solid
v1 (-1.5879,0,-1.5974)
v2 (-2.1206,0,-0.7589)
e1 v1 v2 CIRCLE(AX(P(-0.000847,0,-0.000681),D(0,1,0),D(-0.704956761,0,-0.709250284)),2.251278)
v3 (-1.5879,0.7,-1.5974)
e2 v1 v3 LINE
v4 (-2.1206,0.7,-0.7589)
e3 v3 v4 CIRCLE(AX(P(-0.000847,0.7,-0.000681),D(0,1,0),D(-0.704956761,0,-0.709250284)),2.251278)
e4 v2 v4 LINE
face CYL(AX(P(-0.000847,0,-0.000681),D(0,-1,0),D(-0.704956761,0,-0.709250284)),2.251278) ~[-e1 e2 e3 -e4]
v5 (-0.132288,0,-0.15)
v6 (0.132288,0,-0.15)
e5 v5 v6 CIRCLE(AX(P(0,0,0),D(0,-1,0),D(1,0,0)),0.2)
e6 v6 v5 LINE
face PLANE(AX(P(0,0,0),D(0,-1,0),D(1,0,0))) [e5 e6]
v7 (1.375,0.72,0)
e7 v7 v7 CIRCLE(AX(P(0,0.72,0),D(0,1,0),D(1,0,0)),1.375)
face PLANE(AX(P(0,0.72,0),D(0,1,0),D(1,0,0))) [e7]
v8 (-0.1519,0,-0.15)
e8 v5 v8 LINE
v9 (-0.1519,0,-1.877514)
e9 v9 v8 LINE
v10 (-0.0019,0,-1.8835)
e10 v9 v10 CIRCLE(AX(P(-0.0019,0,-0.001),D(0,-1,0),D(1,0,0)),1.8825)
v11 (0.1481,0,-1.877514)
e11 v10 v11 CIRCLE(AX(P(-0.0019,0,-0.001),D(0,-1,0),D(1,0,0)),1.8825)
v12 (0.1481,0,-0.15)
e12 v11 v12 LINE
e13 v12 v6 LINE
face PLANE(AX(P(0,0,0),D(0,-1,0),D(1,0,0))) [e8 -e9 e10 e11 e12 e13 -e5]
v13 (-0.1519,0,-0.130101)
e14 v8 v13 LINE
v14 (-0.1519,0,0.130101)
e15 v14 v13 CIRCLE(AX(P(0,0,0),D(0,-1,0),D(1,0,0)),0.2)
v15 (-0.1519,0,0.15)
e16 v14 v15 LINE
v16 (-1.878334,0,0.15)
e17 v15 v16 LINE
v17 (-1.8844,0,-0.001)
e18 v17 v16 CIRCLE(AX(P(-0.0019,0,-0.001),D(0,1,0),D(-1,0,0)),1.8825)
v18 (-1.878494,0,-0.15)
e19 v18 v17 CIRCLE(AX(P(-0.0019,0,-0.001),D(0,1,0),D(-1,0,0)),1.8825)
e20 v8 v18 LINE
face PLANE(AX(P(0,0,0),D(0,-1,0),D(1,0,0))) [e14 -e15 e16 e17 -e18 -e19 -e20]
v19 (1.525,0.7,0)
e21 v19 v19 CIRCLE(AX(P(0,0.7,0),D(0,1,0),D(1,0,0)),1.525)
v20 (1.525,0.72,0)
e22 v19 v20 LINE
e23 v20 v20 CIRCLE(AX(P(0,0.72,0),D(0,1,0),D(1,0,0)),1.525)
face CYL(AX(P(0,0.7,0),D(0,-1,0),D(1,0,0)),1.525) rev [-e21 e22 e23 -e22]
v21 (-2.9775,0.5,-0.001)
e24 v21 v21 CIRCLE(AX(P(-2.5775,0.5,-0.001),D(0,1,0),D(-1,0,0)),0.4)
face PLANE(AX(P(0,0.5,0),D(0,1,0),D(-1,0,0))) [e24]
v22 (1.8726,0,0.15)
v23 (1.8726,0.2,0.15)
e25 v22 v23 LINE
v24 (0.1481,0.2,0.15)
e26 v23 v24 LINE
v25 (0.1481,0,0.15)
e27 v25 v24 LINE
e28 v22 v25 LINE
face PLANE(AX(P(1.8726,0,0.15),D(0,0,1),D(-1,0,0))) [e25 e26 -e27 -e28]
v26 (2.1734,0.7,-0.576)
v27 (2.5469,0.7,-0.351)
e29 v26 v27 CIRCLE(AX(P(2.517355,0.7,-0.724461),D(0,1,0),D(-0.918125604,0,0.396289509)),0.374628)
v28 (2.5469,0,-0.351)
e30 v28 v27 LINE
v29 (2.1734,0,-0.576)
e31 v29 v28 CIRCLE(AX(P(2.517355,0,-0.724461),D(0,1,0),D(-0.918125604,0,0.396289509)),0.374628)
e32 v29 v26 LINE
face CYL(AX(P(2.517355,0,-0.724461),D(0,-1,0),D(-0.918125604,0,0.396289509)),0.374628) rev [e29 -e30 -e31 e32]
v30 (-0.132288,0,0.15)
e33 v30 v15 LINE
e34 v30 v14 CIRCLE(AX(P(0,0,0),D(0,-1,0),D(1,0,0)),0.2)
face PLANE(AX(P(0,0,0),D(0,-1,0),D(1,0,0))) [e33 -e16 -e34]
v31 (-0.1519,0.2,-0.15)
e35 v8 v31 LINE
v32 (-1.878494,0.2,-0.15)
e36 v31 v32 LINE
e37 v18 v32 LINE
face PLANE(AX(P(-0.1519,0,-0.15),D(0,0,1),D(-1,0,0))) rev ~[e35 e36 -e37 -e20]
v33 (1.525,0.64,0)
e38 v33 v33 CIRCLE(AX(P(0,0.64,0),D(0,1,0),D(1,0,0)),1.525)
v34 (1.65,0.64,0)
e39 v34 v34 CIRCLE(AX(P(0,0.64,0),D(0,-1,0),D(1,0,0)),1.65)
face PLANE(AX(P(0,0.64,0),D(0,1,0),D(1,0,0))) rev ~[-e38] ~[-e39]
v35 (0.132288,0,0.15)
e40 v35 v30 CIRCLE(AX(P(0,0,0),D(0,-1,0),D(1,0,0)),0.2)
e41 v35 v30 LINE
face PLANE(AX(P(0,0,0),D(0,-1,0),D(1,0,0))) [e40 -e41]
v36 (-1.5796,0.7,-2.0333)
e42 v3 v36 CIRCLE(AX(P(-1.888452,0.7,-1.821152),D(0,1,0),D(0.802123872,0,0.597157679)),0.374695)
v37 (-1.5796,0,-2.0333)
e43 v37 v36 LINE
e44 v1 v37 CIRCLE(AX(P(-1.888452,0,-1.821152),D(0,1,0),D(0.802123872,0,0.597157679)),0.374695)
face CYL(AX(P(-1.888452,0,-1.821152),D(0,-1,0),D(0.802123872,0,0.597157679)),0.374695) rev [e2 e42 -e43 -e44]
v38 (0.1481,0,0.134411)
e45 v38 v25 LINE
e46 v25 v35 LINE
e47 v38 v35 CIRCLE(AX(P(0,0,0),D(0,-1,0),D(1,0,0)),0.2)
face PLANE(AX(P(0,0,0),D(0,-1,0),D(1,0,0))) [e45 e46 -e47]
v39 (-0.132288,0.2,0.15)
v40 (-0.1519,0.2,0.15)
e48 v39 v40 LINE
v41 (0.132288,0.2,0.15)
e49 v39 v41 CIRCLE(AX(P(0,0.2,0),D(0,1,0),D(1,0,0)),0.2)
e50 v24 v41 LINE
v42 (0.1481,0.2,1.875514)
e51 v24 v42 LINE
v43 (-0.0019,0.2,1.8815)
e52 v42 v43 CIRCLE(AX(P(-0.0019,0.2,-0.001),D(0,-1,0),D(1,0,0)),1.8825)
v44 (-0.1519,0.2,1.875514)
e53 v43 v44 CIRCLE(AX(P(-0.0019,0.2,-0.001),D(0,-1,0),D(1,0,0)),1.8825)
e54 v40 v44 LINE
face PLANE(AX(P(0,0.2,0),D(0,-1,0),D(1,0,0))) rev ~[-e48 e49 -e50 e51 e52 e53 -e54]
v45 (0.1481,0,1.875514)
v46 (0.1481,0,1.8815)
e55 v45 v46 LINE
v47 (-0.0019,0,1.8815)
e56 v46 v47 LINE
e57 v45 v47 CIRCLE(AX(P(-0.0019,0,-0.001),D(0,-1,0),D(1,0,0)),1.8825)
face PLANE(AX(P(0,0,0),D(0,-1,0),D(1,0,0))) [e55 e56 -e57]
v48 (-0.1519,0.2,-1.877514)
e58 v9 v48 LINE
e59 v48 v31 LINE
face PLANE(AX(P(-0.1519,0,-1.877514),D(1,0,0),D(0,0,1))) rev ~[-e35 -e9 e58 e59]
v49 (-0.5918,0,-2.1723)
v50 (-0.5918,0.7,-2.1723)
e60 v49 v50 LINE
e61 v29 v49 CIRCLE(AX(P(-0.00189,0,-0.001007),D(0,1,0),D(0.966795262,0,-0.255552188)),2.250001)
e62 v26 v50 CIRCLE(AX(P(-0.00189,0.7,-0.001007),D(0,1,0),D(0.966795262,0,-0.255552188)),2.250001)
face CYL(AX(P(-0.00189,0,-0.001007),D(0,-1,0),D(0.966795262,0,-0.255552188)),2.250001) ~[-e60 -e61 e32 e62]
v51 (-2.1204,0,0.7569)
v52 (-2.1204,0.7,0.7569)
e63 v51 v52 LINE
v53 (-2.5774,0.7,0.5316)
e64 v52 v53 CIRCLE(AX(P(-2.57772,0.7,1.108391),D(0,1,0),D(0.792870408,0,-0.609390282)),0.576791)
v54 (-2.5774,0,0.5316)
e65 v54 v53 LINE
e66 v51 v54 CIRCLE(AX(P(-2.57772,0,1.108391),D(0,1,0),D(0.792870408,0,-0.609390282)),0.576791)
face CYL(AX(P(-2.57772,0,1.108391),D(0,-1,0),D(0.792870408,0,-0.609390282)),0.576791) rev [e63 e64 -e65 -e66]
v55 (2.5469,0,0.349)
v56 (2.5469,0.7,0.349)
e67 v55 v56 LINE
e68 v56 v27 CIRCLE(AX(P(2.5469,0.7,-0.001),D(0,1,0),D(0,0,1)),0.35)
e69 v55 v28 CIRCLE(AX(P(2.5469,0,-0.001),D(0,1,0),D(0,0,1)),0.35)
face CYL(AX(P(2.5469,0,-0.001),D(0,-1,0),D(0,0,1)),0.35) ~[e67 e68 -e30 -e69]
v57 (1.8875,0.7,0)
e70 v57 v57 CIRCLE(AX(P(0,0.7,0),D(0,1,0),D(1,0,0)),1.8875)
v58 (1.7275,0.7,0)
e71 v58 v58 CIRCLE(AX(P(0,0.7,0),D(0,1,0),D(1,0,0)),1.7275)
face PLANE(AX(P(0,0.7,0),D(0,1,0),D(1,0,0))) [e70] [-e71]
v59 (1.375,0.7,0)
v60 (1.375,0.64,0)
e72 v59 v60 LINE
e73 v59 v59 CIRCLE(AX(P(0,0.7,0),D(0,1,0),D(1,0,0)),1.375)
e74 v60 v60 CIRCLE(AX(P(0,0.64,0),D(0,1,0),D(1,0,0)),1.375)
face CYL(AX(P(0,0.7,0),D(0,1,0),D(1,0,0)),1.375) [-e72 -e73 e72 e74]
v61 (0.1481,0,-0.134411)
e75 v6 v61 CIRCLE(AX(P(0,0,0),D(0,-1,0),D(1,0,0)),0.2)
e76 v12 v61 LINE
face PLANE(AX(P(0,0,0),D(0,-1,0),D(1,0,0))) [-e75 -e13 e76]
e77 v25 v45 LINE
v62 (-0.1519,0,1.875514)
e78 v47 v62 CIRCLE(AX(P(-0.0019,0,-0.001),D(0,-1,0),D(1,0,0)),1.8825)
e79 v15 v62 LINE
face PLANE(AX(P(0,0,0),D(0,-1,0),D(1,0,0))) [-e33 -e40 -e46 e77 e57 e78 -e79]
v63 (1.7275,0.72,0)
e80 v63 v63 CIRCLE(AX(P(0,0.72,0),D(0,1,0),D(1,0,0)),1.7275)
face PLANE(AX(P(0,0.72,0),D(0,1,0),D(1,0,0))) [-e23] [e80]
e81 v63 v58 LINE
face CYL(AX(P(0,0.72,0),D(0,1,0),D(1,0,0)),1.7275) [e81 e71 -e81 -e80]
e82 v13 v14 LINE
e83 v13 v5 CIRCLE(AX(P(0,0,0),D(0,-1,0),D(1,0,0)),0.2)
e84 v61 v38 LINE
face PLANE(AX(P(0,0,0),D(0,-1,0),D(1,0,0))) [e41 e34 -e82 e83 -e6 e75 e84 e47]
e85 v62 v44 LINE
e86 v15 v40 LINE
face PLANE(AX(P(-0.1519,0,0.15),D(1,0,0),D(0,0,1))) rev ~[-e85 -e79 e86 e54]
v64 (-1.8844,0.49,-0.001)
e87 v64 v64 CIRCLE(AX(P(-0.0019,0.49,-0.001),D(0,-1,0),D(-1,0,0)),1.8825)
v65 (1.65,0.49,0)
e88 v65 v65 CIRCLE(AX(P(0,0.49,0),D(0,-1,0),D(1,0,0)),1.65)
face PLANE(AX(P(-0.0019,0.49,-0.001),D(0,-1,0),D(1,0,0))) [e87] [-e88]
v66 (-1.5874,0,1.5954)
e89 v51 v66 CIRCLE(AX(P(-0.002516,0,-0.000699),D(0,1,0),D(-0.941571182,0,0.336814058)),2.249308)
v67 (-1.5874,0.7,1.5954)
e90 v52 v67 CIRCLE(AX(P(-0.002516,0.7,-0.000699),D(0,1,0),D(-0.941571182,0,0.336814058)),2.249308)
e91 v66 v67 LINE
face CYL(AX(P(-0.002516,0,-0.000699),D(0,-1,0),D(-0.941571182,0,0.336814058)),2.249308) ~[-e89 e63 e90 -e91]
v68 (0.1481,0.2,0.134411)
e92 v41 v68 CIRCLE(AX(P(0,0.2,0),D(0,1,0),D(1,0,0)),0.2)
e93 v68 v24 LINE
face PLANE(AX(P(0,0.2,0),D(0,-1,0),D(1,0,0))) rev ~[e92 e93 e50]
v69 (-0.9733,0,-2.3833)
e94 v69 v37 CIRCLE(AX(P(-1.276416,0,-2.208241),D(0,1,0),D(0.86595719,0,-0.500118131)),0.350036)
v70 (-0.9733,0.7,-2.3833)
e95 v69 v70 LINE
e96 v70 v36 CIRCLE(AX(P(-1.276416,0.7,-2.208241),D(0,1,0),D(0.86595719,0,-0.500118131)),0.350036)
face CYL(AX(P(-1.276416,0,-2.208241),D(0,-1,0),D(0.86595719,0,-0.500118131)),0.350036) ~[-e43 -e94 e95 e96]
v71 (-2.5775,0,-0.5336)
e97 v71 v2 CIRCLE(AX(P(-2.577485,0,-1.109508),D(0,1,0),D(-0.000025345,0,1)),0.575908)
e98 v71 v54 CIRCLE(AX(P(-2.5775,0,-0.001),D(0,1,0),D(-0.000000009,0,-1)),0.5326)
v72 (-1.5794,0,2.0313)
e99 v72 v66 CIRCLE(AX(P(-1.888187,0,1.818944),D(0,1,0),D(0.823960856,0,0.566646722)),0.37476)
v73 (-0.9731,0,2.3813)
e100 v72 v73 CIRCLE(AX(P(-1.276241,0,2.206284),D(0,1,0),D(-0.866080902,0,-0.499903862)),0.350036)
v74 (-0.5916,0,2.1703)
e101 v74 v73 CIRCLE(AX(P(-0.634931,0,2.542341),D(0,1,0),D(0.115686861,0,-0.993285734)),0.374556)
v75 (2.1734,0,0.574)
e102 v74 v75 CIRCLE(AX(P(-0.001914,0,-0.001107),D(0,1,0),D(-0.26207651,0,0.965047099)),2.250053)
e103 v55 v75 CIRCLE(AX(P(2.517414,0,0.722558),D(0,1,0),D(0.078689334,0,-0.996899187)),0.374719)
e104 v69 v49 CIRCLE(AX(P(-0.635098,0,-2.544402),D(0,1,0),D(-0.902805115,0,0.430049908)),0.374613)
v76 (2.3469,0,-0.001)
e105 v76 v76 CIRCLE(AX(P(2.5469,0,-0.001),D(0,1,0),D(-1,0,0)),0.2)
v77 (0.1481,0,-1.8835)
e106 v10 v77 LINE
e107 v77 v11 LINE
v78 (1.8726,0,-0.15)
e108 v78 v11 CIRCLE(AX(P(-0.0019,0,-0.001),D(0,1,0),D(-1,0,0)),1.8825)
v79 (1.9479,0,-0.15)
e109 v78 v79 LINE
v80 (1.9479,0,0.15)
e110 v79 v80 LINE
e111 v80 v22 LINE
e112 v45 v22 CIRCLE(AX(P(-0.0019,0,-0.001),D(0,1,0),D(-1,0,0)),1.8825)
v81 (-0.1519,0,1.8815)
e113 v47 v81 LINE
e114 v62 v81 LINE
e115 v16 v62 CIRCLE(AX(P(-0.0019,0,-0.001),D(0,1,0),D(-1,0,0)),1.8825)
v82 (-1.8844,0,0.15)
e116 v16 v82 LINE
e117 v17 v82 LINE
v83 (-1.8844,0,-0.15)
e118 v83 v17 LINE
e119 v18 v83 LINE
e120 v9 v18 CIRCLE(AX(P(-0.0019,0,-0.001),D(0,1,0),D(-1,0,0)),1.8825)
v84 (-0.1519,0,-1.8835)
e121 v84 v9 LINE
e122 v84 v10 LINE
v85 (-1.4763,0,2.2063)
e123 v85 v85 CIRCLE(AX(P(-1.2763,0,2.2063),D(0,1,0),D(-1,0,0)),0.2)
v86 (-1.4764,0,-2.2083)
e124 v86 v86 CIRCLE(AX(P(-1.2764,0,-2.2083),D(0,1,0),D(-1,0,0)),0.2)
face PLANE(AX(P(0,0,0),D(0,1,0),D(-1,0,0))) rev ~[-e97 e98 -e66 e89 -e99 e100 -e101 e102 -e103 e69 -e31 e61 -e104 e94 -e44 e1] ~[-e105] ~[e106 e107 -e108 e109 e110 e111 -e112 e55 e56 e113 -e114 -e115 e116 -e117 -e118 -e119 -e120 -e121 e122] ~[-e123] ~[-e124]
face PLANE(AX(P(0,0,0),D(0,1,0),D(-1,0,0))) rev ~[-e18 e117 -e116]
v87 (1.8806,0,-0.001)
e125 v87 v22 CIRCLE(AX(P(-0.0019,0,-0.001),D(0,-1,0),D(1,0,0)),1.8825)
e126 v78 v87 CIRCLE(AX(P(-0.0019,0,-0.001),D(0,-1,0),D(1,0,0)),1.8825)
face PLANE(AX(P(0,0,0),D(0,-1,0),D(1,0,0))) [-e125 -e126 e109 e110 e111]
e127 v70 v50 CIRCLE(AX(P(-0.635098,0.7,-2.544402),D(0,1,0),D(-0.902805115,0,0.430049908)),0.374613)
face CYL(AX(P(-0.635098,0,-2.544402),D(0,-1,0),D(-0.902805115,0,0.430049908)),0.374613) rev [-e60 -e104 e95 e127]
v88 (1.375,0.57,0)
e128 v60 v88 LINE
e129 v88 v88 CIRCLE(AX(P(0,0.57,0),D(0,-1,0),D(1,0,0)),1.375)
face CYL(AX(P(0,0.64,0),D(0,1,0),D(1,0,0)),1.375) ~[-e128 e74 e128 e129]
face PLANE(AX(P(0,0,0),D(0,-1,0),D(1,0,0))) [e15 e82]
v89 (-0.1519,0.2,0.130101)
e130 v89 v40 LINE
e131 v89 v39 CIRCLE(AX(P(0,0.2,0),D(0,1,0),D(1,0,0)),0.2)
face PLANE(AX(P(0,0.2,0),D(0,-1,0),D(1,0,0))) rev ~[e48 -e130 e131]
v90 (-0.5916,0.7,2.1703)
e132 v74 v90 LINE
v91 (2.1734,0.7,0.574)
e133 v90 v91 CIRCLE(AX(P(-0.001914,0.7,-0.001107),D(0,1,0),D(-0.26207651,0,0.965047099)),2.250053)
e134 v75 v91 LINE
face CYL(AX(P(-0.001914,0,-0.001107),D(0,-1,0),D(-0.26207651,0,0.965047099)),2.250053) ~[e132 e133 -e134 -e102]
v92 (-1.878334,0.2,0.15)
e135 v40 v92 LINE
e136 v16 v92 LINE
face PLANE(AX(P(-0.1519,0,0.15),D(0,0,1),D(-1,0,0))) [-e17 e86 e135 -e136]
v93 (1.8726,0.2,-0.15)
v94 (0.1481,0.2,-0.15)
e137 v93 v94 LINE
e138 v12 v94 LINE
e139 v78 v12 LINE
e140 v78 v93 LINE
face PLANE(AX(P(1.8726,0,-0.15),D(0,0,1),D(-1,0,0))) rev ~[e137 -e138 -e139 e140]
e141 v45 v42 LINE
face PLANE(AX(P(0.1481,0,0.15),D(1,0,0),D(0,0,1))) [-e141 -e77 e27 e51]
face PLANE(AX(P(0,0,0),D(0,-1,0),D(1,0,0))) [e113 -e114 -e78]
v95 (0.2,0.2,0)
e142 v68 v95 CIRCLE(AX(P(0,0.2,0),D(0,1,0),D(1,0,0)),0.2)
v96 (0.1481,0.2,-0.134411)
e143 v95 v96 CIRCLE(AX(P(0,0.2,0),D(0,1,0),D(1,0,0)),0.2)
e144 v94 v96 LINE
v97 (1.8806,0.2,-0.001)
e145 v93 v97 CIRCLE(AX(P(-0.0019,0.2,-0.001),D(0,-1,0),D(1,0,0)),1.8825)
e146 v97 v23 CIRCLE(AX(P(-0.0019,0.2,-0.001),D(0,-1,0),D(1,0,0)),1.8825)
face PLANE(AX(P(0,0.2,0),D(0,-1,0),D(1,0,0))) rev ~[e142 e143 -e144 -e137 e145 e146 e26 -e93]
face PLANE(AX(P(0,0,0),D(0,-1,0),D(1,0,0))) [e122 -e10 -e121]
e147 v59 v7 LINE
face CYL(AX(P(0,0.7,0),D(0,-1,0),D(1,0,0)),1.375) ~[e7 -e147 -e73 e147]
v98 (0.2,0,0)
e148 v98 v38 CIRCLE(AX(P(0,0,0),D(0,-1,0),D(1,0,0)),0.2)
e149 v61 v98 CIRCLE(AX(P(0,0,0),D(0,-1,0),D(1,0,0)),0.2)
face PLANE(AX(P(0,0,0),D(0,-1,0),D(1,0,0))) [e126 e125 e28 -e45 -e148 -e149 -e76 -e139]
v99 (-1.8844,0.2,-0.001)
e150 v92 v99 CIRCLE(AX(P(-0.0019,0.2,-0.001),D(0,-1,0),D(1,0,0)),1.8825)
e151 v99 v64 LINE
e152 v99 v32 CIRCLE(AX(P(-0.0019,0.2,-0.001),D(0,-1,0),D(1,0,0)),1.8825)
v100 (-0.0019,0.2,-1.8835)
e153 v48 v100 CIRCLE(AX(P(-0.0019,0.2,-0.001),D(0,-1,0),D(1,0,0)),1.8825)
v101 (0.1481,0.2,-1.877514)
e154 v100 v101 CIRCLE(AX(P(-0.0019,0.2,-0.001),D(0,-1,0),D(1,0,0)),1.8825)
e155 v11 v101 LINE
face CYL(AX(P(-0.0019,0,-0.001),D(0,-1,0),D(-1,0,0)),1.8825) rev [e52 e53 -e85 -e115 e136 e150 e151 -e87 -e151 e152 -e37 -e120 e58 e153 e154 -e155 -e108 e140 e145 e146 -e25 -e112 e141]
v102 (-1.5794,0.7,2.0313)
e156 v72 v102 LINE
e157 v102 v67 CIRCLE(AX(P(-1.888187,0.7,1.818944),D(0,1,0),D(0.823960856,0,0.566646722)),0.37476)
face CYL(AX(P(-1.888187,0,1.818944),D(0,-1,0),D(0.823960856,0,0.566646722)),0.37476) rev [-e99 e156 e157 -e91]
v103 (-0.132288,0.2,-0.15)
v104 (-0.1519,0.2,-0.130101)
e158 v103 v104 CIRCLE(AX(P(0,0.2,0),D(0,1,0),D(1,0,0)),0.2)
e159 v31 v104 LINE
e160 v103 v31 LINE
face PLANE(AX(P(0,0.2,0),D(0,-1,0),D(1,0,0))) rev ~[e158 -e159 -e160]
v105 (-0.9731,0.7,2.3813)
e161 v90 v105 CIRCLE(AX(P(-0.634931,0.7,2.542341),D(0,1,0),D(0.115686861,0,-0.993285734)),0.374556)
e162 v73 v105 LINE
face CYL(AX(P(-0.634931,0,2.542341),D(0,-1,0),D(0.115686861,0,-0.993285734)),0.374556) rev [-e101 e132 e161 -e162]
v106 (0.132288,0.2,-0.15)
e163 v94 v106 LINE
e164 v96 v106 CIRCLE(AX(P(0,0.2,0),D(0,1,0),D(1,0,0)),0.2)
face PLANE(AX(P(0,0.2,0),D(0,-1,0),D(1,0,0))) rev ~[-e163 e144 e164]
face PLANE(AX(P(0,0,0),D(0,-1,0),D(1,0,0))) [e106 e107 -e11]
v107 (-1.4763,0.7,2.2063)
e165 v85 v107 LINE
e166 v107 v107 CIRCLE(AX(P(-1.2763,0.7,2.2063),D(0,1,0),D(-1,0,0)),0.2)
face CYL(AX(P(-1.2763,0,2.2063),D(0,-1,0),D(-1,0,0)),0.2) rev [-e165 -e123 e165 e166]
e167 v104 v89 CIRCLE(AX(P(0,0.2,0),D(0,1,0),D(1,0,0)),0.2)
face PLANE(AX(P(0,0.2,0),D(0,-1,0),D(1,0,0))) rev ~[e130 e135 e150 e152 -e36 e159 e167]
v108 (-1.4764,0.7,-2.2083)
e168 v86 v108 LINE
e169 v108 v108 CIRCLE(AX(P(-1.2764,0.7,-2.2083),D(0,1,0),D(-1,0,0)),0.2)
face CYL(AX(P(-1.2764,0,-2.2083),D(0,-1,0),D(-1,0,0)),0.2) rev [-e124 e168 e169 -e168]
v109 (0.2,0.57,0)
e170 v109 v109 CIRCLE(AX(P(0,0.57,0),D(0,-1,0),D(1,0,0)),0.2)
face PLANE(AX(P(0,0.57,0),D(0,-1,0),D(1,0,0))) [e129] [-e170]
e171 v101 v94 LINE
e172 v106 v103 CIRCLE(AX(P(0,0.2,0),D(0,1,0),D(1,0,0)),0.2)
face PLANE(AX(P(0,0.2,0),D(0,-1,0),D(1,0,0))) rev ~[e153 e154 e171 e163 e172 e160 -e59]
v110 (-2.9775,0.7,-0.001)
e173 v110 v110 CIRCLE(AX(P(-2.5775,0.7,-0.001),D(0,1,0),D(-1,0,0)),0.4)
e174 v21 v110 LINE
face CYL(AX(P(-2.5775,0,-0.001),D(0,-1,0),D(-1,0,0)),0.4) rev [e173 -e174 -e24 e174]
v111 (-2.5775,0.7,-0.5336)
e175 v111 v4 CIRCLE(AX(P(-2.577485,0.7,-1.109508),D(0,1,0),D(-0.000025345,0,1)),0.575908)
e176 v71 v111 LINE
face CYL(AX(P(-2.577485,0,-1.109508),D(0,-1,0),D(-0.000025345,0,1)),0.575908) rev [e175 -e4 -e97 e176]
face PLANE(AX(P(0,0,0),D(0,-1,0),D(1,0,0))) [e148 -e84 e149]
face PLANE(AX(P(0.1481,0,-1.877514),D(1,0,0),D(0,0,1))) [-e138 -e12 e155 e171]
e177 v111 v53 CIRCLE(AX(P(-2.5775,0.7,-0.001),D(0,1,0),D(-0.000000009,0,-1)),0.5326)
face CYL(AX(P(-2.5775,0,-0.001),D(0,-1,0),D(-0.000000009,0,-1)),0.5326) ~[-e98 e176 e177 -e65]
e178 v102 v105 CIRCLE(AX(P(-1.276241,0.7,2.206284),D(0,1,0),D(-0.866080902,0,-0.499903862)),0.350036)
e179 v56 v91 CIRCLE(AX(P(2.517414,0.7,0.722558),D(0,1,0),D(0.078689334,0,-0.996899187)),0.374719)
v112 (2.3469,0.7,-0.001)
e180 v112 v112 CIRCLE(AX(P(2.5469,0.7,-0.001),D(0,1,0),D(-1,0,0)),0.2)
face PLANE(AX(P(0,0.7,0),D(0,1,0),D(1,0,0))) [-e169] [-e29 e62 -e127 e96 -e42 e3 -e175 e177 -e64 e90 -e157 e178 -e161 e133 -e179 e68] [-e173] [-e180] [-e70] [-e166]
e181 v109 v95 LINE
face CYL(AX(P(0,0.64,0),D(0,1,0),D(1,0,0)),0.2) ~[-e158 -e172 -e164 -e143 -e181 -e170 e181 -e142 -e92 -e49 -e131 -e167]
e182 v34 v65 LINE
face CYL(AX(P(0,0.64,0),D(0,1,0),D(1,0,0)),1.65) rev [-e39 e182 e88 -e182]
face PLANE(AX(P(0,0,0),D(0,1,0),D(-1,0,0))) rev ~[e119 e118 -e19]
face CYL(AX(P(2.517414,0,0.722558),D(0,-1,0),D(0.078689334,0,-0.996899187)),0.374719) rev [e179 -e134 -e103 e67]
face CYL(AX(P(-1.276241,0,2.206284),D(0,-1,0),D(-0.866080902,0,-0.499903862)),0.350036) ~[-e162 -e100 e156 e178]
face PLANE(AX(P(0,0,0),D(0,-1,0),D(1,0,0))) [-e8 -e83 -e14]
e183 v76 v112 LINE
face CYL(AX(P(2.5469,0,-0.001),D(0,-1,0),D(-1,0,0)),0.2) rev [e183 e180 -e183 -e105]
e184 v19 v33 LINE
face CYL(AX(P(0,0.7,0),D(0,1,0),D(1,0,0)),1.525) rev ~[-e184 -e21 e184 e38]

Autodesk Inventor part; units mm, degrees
ref_plane "YZ Plane" through (0, 0, 0) normal (1, 0, 0) x (0, 1, 0)
ref_plane "XZ Plane" through (0, 0, 0) normal (0, 1, 0) x (-1, 0, 0)
ref_plane "XY Plane" through (0, 0, 0) normal (0, 0, 1) x (1, 0, 0)
sketch "Boceto1" plane through (0, 0, 0) normal (0, 1, 0) x (-1, 0, 0)
  circle A0 centre (-2.5469, -0.001) radius 0.2
  arc A1 (2.5775, -0.5336) -> (2.5774, 0.5316) centre (2.5775, -0.001) ccw
  circle A2 centre (2.5775, -0.001) radius 0.4
  arc A3 (2.5775, -0.5336) -> (2.1206, -0.7589) centre (2.5776, -1.11) ccw
  arc A4 (2.1204, 0.7569) -> (2.5774, 0.5316) centre (2.5774, 1.108) ccw
  arc A5 (-2.5469, 0.349) -> (-2.1734, 0.574) centre (-2.5174, 0.7225) ccw
  arc A6 (-2.1734, -0.576) -> (-2.5469, -0.351) centre (-2.5174, -0.7245) ccw
  arc A7 (-2.5469, 0.349) -> (-2.5469, -0.351) centre (-2.5469, -0.001) ccw
  circle A8 centre (1.2763, 2.2063) radius 0.2
  arc A9 (1.5794, 2.0313) -> (1.5874, 1.5954) centre (1.888, 1.819) ccw
  arc A10 (0.5916, 2.1703) -> (0.9731, 2.3813) centre (0.6349, 2.5425) ccw
  arc A11 (1.5794, 2.0313) -> (0.9731, 2.3813) centre (1.2763, 2.2063) ccw
  circle A12 centre (1.2764, -2.2083) radius 0.2
  arc A13 (0.9733, -2.3833) -> (0.5918, -2.1723) centre (0.6351, -2.5444) ccw
  arc A14 (1.5879, -1.5974) -> (1.5796, -2.0333) centre (1.8883, -1.8211) ccw
  arc A15 (0.9733, -2.3833) -> (1.5796, -2.0333) centre (1.2764, -2.2083) ccw
  circle A16 centre (0.0019, -0.001) radius 1.8825
  arc A17 (-2.1734, -0.576) -> (0.5918, -2.1723) centre (0.0019, -0.001) ccw
  arc A18 (0.5916, 2.1703) -> (-2.1734, 0.574) centre (0.0019, -0.001) ccw
  arc A19 (2.1204, 0.7569) -> (1.5874, 1.5954) centre (0.0019, -0.001) ccw
  arc A20 (1.5879, -1.5974) -> (2.1206, -0.7589) centre (0, 0) ccw
extrude "Extrusión1" add sketch "Boceto1" along normal blind 0.7
sketch "Boceto2" plane through (0, 0, 0) normal (0, 1, 0) x (-1, 0, 0)
  circle A0 centre (-2.5469, -0.001) radius 0.2
  arc A1 (2.5775, -0.5336) -> (2.5774, 0.5316) centre (2.5775, -0.001) ccw
  circle A2 centre (2.5775, -0.001) radius 0.4
  arc A3 (2.5775, -0.5336) -> (2.1206, -0.7589) centre (2.5776, -1.11) ccw
  arc A4 (2.1204, 0.7569) -> (2.5774, 0.5316) centre (2.5774, 1.108) ccw
  arc A5 (-2.5469, 0.349) -> (-2.1734, 0.574) centre (-2.5174, 0.7225) ccw
  arc A6 (-2.1734, -0.576) -> (-2.5469, -0.351) centre (-2.5174, -0.7245) ccw
  arc A7 (-2.5469, 0.349) -> (-2.5469, -0.351) centre (-2.5469, -0.001) ccw
  circle A8 centre (1.2763, 2.2063) radius 0.2
  arc A9 (1.5794, 2.0313) -> (1.5874, 1.5954) centre (1.888, 1.819) ccw
  arc A10 (0.5916, 2.1703) -> (0.9731, 2.3813) centre (0.6349, 2.5425) ccw
  arc A11 (1.5794, 2.0313) -> (0.9731, 2.3813) centre (1.2763, 2.2063) ccw
  circle A12 centre (1.2764, -2.2083) radius 0.2
  arc A13 (0.9733, -2.3833) -> (0.5918, -2.1723) centre (0.6351, -2.5444) ccw
  arc A14 (1.5879, -1.5974) -> (1.5796, -2.0333) centre (1.8883, -1.8211) ccw
  arc A15 (0.9733, -2.3833) -> (1.5796, -2.0333) centre (1.2764, -2.2083) ccw
  circle A16 centre (0.0019, -0.001) radius 1.8825
  arc A17 (-2.1734, -0.576) -> (0.5918, -2.1723) centre (0.0019, -0.001) ccw
  arc A18 (0.5916, 2.1703) -> (-2.1734, 0.574) centre (0.0019, -0.001) ccw
  arc A19 (2.1204, 0.7569) -> (1.5874, 1.5954) centre (0.0019, -0.001) ccw
  arc A20 (1.5879, -1.5974) -> (2.1206, -0.7589) centre (0, 0) ccw
  point P0 (0, 0)
extrude "Extrusión2" add sketch "Boceto2" along normal blind 0.5 contours A2
sketch "Boceto3" plane through (0, 0.7, 0) normal (0, 1, 0) x (1, 0, 0)
  circle A0 centre (-0.0019, 0.001) radius 1.8825 projected
  point P0 (0, 0)
extrude "Extrusión3" add sketch "Boceto3" against normal blind 0.06
sketch "Boceto4" plane through (-0.0019, 0.64, -0.001) normal (0, -1, 0) x (1, 0, 0)
  circle A0 centre (0.0019, 0.001) radius 1.65
  circle A1 centre (0, 0) radius 1.8825 projected
  dimension "d6" = 3.3
extrude "Extrusión4" add sketch "Boceto4" along normal blind 0.15
sketch "Boceto5" plane through (0, 0.7, 0) normal (0, 1, 0) x (1, 0, 0)
  circle A0 centre (0, 0) radius 1.525
  circle A1 centre (0, 0) radius 1.375
  dimension "d9" = 3.05
  dimension "d11" = 2.75
extrude "Extrusión5" cut sketch "Boceto5" against normal blind 0.1
sketch "Boceto6" plane through (0, 0.64, 0) normal (0, -1, 0) x (1, 0, 0)
  circle A0 centre (0, 0) radius 0.2
  dimension "d14" = 0.4
extrude "Extrusión6" add sketch "Boceto6" along normal blind 0.64
sketch "Boceto7" plane through (0, 0, 0) normal (0, -1, 0) x (1, 0, 0)
  circle A0 centre (-0.0019, -0.001) radius 1.8825 projected
  line L0 (-0.1519, -1.8835) -> (-0.1519, 1.8815)
  line L1 (1.8726, 0.15) -> (-1.8844, 0.15)
  line L2 (1.8726, -0.15) -> (-1.8844, -0.15)
  line L3 (0.1481, -1.8835) -> (0.1481, 1.8815)
  line L4 (1.8726, -0.15) -> (1.9479, -0.15)
  line L5 (1.9479, -0.15) -> (1.9479, 0.15)
  line L6 (1.9479, 0.15) -> (1.8726, 0.15)
  line L7 (-0.1519, -1.8835) -> (0.1481, -1.8835)
  line L8 (-1.8844, -0.15) -> (-1.8844, 0.15)
  line L9 (0.1481, 1.8815) -> (-0.1519, 1.8815)
  point P0 (0, 0)
extrude "Extrusión7" add sketch "Boceto7" against normal blind 0.2 contours A0 L2 L3 L1 | A0 L6 L5 L4 | L3 L1 L0 A0 | A0 L9 L3 | L3 L2 L0 L1 | L3 L7 A0 | A0 L0 L2 L3 | A0 L0 L9 | L0 L2 A0 L1 | L7 L0 A0 | A0 L8 L1 | L2 L8 A0
sketch "Boceto8" plane through (0, 0.7, 0) normal (0, 1, 0) x (1, 0, 0)
  circle A0 centre (0, 0) radius 1.8875
  circle A1 centre (0, 0) radius 1.525 projected
  circle A2 centre (0, 0) radius 1.375 projected
  dimension "d23" = 3.775
extrude "Extrusión8" add sketch "Boceto8" along normal blind 0.02
sketch "Boceto9" plane through (0, 0.64, 0) normal (0, -1, 0) x (1, 0, 0)
  circle A0 centre (0, 0) radius 0.2 projected
  circle A1 centre (0, 0) radius 1.375 projected
extrude "Extrusión9" add sketch "Boceto9" along normal blind 0.07
sketch "Boceto10" plane through (0, 0.72, 0) normal (0, 1, 0) x (1, 0, 0)
  circle A0 centre (0, 0) radius 1.8875 projected
  circle A1 centre (0, 0) radius 1.7275
  point P0 (0, 0)
  dimension "d28" = 0.16
extrude "Extrusión10" cut sketch "Boceto10" against normal blind 0.02
properties part number "ET3"
